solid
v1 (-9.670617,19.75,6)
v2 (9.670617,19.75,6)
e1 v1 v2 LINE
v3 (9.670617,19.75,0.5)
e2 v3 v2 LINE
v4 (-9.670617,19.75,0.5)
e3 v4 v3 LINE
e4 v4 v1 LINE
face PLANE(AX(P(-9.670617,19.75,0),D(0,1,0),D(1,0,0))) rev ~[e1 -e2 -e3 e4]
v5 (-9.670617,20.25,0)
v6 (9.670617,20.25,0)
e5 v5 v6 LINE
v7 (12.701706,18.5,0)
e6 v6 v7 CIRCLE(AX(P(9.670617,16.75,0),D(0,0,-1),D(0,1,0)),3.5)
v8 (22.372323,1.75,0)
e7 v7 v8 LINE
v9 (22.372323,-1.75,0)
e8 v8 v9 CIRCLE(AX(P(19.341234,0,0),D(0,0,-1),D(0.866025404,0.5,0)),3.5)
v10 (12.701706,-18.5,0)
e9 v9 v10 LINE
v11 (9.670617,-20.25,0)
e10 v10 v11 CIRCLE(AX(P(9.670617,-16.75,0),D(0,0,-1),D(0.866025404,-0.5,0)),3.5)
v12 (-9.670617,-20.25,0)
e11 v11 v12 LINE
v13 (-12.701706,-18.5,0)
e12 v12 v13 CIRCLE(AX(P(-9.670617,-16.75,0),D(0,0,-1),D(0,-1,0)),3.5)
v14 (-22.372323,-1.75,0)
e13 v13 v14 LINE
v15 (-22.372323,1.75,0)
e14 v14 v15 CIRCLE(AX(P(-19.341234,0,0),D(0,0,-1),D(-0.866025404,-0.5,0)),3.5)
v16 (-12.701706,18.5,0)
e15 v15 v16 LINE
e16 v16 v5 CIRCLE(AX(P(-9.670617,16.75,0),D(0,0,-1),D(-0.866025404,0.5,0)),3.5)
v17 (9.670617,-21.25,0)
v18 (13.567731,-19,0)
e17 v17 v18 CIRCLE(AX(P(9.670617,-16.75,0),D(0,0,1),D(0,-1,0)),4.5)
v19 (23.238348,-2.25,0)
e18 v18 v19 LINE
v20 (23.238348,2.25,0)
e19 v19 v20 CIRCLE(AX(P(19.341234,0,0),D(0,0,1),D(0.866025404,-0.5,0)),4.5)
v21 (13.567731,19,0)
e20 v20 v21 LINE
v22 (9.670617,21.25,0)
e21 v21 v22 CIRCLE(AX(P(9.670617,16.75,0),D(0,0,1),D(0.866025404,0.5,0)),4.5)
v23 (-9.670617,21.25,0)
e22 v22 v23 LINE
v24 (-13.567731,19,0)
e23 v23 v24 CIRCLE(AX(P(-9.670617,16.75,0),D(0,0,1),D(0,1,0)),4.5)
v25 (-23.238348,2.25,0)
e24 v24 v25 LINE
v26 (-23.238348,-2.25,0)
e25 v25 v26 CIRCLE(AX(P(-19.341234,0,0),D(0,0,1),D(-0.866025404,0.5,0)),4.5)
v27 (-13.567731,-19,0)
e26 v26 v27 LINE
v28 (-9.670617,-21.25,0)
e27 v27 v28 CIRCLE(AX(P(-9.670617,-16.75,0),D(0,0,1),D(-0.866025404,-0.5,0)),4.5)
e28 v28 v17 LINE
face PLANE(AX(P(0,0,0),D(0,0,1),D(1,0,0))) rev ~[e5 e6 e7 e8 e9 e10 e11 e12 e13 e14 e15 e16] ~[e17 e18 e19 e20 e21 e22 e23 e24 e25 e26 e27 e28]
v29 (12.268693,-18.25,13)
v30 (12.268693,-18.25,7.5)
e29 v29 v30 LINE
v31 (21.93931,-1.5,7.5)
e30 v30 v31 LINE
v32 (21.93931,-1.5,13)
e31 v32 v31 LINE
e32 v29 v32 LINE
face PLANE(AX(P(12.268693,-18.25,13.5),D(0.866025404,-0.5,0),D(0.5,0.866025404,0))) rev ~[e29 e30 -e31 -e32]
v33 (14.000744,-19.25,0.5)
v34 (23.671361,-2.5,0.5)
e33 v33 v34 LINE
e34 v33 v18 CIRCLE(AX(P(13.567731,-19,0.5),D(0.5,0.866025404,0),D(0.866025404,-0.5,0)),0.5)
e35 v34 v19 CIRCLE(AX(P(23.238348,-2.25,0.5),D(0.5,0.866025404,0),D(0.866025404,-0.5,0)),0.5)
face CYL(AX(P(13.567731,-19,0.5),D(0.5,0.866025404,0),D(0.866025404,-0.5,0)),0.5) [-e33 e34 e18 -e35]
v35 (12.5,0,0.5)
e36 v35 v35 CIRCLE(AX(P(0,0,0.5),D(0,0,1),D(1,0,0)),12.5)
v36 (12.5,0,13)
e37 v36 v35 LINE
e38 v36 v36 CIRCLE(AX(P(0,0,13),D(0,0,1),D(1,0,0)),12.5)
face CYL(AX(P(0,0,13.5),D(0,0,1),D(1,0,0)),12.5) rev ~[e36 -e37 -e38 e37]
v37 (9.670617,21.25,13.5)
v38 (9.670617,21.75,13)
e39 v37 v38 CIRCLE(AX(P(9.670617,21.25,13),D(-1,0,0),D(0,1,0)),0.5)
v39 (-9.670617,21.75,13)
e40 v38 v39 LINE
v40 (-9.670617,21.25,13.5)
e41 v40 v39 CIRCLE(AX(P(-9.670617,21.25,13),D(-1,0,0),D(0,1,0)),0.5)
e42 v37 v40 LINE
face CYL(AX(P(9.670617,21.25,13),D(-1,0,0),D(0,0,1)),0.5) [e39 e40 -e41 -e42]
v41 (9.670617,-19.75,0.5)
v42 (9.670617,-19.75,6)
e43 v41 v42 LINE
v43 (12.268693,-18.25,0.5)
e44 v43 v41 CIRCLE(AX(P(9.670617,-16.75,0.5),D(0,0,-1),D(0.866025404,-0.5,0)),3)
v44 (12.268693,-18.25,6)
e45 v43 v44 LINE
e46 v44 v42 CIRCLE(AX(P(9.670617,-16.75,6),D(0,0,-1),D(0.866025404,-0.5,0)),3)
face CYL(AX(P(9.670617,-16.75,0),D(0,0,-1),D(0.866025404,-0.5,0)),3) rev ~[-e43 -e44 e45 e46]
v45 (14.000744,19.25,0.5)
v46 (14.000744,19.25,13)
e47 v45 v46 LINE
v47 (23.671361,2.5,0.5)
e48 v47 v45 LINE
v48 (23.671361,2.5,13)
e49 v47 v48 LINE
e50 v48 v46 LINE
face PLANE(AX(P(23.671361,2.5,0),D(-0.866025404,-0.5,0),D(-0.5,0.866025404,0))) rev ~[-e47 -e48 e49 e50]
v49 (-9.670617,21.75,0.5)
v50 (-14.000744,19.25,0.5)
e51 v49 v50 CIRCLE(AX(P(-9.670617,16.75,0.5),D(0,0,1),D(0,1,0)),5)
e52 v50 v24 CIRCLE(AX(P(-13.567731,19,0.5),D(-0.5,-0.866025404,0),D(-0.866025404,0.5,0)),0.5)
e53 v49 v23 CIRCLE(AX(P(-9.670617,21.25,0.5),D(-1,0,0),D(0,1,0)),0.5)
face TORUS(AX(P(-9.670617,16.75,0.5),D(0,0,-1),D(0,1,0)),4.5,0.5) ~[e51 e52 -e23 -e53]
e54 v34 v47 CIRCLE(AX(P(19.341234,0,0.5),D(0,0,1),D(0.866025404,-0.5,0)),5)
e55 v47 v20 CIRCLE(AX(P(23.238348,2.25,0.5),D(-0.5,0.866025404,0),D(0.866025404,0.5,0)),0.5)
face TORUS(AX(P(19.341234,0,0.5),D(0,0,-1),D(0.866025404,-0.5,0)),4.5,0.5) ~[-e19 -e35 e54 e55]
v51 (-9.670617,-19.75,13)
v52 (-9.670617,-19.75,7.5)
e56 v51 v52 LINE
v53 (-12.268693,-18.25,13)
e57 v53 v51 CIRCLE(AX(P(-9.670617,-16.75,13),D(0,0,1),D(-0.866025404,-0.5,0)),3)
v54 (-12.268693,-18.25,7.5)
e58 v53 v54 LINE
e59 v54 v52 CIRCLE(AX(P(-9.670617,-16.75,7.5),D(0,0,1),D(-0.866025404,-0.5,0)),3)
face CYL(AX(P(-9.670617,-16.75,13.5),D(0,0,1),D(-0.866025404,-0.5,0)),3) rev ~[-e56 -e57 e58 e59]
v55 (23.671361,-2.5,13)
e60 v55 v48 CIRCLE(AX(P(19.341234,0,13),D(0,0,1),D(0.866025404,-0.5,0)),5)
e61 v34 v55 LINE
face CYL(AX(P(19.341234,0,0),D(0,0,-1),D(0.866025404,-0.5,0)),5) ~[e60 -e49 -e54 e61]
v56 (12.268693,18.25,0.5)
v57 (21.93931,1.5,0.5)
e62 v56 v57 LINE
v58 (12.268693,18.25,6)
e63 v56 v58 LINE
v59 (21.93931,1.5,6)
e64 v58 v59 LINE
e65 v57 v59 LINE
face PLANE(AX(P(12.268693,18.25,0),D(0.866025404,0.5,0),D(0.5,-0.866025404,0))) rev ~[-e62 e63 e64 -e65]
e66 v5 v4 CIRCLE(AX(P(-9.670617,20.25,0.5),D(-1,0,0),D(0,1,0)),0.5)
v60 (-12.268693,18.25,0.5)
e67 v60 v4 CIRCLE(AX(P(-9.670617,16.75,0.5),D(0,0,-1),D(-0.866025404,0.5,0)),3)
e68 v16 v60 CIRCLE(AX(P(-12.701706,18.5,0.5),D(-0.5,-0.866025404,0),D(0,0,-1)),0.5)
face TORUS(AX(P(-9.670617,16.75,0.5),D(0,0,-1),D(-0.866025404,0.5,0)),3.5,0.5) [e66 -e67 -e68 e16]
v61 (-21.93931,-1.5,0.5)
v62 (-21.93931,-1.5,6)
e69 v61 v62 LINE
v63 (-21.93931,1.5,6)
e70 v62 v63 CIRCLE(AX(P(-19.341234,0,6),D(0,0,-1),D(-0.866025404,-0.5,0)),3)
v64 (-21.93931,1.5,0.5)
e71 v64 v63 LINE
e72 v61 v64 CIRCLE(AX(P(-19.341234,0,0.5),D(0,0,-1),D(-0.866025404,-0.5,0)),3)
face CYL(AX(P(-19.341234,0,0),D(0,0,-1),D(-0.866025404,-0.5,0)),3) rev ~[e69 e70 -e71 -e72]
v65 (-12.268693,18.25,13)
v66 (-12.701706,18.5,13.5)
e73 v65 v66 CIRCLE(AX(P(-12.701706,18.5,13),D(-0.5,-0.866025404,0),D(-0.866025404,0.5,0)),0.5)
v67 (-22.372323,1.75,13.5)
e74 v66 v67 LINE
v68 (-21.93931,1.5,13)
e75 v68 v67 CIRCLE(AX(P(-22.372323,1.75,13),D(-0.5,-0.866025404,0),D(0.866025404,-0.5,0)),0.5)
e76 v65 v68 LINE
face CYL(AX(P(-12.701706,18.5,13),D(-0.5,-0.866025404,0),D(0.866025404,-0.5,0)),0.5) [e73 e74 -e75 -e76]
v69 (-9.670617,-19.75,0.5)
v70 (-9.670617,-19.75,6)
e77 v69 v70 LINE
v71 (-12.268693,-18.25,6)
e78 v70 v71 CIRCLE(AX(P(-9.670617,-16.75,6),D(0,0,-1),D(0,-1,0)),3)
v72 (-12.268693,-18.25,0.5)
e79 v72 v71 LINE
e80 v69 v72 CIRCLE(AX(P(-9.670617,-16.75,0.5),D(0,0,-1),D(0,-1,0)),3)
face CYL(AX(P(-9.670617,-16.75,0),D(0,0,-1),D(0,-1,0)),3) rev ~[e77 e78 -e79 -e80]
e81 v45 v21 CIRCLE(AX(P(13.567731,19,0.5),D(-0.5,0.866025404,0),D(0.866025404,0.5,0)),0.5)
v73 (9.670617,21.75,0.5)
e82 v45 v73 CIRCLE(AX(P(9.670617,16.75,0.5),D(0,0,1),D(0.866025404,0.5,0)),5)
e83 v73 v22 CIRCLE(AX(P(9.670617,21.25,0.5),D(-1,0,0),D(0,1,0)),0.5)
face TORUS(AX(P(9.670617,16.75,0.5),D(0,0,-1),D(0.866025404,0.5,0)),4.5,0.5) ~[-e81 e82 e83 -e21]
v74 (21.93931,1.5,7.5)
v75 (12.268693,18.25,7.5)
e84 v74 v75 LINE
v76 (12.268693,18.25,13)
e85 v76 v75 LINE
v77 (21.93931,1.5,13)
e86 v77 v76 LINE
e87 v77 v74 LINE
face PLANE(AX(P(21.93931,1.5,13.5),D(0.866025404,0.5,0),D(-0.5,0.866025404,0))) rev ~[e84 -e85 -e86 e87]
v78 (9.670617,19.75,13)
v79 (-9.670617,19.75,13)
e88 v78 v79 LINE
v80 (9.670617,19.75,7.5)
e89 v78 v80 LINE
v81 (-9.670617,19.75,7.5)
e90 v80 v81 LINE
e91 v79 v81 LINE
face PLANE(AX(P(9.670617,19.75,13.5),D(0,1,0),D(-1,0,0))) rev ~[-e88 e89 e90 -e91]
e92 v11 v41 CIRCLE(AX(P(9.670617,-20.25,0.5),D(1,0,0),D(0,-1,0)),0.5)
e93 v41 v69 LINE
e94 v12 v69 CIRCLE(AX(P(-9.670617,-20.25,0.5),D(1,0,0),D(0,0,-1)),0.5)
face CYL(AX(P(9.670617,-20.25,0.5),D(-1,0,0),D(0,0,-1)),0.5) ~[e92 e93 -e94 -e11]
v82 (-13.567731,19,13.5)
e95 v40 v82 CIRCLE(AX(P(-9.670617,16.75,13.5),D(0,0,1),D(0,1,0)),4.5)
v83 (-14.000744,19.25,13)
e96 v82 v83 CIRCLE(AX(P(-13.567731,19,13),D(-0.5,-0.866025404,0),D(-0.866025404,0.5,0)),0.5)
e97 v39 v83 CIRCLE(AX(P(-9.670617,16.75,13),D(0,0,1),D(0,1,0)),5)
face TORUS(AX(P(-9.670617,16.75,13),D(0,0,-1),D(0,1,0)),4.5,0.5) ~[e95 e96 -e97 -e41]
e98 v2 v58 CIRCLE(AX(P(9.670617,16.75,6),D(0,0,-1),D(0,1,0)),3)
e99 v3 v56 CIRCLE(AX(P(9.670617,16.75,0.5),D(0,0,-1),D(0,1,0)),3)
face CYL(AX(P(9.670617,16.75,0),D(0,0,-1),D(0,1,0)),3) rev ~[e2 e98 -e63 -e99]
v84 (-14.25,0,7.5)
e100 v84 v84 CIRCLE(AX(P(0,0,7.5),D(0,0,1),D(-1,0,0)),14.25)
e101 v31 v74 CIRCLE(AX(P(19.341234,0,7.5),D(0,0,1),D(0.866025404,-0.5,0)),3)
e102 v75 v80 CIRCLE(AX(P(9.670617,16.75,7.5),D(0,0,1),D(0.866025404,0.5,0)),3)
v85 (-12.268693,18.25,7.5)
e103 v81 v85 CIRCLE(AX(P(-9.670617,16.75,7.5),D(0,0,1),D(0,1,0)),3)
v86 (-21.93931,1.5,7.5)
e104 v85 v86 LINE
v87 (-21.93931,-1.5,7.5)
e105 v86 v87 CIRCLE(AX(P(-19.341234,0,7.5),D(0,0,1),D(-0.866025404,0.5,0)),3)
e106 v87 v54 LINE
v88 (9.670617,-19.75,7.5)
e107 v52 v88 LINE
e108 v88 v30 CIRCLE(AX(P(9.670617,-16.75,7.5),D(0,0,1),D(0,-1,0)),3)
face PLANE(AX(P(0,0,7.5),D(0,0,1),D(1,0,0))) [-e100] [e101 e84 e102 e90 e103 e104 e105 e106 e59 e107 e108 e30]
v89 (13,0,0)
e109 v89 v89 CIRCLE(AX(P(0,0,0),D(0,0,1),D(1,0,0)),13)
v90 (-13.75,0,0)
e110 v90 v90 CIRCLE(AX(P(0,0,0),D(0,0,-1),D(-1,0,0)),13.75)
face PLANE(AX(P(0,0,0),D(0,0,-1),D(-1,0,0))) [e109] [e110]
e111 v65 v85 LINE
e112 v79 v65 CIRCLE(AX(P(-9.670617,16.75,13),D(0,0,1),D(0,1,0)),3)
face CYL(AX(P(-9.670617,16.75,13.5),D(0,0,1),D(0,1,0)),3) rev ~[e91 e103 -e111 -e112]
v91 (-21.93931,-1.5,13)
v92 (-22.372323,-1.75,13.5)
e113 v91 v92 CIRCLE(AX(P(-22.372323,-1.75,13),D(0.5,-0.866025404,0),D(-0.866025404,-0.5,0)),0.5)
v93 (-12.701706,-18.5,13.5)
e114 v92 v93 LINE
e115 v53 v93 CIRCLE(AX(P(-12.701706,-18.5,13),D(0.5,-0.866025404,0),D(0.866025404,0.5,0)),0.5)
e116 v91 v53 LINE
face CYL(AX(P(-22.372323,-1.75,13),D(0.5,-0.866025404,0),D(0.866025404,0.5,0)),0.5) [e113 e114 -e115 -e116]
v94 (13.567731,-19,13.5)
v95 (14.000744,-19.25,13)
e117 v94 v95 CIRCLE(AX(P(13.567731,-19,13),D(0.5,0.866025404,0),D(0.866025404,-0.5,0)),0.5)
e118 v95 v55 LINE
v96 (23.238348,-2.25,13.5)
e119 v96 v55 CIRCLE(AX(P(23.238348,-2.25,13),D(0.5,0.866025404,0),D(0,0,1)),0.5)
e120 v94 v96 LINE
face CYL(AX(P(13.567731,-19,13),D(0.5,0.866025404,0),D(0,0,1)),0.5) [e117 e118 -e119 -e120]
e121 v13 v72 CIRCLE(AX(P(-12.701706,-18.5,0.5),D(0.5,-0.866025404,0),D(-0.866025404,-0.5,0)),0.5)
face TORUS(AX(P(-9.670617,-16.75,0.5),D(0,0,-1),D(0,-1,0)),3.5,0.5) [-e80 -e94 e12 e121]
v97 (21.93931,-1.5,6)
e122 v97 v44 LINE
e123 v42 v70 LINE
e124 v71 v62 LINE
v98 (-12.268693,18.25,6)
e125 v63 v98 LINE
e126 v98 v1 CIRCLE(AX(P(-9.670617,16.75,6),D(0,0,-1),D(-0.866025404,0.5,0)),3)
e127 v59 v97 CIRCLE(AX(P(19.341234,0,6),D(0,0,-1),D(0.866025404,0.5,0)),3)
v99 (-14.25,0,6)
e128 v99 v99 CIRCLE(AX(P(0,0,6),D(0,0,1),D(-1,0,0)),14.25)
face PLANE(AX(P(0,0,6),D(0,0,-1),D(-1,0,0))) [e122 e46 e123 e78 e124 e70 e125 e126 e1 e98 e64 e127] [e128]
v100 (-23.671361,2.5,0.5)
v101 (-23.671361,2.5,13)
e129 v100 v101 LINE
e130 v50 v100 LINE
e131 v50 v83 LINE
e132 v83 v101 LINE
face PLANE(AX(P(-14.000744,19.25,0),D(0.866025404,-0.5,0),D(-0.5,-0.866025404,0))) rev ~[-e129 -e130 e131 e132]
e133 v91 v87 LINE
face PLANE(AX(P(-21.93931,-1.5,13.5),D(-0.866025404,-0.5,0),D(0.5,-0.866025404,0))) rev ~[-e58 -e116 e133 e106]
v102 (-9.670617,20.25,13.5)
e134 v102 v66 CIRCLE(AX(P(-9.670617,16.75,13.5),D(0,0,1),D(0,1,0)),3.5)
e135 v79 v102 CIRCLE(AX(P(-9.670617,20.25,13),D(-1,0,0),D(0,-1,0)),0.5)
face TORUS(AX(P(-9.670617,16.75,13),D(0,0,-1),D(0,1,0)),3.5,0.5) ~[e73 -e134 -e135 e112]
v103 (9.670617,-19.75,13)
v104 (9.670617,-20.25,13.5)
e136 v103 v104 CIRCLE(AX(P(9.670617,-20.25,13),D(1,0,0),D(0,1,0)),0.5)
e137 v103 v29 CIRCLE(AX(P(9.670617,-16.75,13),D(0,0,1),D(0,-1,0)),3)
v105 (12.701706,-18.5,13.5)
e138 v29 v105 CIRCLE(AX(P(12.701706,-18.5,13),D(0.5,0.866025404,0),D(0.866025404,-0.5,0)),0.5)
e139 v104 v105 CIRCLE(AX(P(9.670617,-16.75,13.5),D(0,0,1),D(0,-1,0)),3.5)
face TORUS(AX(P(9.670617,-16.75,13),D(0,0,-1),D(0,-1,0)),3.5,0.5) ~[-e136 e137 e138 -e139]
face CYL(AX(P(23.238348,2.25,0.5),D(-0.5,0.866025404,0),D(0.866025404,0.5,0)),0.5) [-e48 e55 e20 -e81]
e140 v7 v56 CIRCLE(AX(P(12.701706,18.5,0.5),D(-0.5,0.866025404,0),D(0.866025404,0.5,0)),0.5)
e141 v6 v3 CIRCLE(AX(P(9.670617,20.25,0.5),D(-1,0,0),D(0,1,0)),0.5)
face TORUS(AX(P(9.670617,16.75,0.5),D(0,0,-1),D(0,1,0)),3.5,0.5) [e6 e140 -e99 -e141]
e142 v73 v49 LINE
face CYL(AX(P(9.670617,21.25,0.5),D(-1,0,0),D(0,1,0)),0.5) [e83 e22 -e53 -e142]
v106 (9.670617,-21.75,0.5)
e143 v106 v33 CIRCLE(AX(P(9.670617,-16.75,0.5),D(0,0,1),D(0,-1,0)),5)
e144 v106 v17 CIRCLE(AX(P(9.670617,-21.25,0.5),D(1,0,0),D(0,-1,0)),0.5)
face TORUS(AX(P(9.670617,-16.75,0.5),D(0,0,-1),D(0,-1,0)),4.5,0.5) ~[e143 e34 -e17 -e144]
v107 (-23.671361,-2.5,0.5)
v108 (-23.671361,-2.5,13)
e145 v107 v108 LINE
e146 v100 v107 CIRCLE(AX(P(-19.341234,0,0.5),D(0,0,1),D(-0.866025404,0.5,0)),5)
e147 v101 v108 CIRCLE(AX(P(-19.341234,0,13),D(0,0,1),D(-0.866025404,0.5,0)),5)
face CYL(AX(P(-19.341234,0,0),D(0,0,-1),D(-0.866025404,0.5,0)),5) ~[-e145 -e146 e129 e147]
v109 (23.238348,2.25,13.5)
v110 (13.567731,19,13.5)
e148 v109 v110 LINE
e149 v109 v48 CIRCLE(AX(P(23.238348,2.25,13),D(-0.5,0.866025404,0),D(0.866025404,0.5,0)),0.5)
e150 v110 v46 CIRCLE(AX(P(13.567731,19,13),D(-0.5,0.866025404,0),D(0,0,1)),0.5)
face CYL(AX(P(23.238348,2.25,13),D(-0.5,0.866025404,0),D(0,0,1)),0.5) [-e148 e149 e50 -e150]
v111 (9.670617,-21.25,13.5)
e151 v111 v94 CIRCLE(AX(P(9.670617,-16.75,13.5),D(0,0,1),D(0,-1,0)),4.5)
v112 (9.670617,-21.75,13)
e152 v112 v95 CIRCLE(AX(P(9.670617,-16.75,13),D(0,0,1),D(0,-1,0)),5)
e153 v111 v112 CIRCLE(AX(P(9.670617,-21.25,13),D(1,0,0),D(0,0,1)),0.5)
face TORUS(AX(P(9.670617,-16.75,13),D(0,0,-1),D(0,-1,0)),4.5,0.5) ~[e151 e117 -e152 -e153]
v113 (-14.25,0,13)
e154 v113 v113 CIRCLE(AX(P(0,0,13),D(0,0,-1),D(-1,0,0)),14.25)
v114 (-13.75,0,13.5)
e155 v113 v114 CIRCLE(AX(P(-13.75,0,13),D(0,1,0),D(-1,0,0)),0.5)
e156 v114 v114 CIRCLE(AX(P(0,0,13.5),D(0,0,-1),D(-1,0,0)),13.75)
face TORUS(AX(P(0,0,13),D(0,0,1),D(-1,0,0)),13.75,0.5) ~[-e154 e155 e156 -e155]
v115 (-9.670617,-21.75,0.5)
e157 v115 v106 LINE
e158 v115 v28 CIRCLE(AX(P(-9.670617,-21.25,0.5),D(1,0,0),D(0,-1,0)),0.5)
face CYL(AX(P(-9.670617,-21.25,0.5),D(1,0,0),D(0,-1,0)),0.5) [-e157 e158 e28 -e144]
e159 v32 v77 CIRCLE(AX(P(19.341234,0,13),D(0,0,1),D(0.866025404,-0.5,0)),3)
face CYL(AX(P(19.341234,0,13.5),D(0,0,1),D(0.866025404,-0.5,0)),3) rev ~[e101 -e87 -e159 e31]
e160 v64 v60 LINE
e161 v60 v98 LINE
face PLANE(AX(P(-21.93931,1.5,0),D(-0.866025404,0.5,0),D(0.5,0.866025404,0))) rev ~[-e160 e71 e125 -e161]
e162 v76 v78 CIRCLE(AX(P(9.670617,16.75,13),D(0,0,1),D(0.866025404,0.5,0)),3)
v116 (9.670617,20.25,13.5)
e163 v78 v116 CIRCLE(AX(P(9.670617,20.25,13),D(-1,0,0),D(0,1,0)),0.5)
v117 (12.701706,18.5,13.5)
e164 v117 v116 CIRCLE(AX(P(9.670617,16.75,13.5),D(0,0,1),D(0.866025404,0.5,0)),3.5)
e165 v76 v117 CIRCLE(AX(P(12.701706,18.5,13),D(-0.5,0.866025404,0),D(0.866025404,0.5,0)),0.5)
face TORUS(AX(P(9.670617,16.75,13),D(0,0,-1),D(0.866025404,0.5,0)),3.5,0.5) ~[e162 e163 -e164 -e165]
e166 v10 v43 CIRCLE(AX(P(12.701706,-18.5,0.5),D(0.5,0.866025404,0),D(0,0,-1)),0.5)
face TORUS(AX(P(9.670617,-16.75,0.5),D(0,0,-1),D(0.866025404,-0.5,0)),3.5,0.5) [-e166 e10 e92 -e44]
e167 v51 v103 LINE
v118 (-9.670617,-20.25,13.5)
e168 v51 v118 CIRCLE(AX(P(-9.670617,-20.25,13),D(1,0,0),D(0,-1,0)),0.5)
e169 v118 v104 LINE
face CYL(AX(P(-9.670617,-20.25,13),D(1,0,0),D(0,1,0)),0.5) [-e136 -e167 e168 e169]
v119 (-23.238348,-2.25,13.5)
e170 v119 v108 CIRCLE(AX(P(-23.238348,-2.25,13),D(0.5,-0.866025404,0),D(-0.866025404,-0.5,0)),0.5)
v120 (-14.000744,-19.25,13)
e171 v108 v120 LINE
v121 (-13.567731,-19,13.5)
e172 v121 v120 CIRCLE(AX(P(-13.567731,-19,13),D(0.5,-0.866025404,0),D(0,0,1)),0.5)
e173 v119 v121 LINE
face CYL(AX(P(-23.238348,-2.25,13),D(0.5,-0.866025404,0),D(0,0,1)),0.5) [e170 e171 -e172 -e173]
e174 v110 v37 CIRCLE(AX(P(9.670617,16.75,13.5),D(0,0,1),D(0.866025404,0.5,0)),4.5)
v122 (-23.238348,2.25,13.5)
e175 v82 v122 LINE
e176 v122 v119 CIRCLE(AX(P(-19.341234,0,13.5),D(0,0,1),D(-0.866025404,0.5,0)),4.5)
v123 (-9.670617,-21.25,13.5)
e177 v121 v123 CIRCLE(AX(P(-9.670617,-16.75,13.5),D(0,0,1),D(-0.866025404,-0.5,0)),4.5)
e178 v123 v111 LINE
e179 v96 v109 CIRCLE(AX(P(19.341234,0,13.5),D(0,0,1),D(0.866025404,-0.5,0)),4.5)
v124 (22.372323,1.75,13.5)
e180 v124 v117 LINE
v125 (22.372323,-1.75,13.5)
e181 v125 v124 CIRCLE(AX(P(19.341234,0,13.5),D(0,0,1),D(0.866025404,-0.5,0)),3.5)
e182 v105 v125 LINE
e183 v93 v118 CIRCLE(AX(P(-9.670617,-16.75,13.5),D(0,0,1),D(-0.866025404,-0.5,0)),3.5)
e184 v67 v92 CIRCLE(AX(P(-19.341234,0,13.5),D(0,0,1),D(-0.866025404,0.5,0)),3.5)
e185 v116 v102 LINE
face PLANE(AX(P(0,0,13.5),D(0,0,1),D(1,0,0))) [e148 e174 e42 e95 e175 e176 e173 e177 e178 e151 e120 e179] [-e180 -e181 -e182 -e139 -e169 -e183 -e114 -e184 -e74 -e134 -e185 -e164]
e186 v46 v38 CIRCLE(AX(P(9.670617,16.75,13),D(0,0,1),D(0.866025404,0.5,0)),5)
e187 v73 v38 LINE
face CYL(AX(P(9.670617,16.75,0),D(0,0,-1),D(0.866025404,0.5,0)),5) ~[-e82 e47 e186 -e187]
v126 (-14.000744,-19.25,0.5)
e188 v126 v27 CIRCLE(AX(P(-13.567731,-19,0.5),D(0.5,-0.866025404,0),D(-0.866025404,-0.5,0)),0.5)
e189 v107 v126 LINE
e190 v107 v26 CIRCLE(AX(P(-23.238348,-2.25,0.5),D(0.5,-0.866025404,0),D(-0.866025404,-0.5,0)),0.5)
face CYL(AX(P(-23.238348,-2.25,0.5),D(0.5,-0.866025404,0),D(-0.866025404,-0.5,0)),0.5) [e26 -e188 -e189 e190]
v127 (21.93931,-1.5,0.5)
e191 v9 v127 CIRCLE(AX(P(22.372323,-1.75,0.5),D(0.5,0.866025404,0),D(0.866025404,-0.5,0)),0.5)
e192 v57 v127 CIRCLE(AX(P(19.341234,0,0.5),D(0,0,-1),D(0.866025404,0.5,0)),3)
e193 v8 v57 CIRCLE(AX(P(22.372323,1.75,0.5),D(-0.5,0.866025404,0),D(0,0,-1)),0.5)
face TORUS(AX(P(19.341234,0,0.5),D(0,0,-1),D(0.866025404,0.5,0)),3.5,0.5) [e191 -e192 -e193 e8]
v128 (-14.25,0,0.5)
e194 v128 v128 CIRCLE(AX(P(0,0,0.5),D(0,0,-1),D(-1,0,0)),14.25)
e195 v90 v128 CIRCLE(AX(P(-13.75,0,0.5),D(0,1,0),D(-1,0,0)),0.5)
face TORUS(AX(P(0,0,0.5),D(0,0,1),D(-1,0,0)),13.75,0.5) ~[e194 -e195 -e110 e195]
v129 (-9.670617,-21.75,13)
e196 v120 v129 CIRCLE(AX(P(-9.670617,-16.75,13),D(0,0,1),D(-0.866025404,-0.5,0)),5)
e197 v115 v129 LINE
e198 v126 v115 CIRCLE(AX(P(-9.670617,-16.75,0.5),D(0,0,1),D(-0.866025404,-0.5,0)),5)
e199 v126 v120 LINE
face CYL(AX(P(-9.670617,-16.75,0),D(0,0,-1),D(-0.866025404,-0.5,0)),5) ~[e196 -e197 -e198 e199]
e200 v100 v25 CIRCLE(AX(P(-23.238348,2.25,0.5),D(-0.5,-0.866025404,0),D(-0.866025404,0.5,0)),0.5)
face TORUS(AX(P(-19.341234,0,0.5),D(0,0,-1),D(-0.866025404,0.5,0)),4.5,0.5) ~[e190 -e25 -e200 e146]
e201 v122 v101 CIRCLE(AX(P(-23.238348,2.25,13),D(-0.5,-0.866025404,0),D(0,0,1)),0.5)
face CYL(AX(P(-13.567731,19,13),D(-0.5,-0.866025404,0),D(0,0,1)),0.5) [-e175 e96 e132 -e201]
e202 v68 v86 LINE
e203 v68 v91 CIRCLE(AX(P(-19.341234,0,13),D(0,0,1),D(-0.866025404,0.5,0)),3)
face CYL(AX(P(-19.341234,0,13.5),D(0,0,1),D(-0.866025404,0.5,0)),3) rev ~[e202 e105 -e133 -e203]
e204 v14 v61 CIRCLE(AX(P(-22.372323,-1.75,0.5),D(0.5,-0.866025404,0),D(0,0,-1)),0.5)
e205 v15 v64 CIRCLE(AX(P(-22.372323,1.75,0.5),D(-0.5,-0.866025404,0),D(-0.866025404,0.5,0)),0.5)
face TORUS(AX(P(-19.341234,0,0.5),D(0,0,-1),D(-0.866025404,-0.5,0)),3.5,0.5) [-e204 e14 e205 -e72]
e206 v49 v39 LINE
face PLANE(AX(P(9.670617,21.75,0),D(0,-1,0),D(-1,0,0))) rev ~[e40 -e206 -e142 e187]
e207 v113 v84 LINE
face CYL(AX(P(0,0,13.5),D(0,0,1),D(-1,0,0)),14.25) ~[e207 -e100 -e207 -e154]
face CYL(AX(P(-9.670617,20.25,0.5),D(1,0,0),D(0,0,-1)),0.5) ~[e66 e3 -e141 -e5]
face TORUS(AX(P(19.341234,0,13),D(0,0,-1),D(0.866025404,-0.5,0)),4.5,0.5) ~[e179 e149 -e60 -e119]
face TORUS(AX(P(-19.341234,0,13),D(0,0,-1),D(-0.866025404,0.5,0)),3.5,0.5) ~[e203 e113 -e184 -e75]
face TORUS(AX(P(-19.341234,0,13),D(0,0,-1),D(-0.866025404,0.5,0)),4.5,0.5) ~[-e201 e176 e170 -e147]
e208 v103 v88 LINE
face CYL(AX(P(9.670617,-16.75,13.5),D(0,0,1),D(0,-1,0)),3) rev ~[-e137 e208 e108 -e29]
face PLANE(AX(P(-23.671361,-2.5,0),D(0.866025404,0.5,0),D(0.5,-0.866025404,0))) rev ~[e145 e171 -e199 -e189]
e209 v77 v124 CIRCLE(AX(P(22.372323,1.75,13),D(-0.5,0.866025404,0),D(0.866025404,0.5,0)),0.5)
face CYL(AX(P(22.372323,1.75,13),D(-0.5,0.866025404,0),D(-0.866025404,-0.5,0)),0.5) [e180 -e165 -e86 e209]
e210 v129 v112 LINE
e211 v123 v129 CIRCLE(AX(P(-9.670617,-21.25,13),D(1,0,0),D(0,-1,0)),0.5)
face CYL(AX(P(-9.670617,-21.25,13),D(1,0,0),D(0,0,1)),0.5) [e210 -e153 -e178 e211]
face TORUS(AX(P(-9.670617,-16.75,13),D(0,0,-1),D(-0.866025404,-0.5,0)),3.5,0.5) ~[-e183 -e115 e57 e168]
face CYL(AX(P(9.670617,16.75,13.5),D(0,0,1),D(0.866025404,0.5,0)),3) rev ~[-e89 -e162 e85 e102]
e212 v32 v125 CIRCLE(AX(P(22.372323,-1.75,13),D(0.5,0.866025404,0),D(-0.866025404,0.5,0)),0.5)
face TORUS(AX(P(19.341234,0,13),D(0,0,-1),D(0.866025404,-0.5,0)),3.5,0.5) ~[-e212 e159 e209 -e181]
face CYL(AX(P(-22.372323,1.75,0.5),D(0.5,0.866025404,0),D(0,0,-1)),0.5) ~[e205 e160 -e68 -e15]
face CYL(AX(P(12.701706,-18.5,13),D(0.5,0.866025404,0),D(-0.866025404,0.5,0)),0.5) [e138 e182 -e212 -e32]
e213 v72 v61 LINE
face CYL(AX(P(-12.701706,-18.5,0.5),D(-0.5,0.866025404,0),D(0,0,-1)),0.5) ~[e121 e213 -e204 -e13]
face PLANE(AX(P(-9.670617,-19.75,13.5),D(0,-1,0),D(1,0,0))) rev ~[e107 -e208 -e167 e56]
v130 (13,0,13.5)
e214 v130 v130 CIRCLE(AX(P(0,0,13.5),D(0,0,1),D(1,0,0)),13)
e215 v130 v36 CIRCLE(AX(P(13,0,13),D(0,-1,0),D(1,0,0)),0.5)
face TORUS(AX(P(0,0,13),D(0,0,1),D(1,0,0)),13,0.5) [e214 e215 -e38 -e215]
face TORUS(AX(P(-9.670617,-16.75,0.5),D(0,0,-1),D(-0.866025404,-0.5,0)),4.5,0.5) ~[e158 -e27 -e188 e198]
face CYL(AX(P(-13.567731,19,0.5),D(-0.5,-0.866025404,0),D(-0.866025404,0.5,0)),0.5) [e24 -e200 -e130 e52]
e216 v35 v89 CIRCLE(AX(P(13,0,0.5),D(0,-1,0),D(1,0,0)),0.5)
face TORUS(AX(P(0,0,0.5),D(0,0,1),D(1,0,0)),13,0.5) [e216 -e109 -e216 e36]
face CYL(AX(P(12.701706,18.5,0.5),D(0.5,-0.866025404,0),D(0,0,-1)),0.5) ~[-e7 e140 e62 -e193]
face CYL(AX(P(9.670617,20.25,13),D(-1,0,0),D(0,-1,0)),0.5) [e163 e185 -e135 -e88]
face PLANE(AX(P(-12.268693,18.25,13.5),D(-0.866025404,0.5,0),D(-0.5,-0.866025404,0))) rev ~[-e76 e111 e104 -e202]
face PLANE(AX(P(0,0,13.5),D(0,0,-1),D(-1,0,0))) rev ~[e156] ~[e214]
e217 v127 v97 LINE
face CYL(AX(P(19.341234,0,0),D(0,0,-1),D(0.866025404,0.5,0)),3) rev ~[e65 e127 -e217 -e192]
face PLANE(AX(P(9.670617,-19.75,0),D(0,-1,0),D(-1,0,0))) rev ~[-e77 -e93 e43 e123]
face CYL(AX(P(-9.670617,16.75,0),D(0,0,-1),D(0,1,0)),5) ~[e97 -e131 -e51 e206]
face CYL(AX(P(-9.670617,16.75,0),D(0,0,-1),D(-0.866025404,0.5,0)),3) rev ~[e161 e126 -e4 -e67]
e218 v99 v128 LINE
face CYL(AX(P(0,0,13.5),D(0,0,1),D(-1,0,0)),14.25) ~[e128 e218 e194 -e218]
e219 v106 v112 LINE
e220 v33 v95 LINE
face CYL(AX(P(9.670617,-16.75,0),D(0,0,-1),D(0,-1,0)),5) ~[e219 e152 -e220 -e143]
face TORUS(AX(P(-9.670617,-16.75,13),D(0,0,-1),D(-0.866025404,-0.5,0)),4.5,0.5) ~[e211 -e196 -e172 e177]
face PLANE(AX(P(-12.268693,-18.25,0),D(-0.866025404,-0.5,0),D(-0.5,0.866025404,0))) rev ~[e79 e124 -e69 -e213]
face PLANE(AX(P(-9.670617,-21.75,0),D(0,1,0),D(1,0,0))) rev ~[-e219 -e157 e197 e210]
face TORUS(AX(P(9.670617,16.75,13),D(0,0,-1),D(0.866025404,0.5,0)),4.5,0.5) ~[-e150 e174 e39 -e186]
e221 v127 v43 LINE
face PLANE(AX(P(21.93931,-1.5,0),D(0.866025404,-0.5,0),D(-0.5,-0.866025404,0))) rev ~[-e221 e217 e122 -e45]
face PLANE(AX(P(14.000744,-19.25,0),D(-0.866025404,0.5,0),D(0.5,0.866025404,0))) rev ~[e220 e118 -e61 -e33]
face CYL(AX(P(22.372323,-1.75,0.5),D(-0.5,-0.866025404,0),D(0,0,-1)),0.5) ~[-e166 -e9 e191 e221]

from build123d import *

# Parameters (mm, degrees)
EXTRUDE_1_DEPTH     = 13.5
CUT_EXTRUDE_1_DEPTH = 6
CUT_EXTRUDE_2_DEPTH = 6
EXTRUDE_START       = -7.5
SKETCH_4_R          = 14.25
EXTRUDE_2_DEPTH     = 13.5
CUT_EXTRUDE_3_REACH = 15.5
SKETCH_5_R          = 12.5
FILLET_1_R          = 0.5


with BuildPart() as part:
    # 草圖1 → 填料-伸長1 (new body)
    with BuildSketch(Plane.XY):
        with BuildLine():
            Line((23.671361037, 2.5), (14.000744028, 19.25))
            ThreePointArc((14.000744028, 19.25), (12.170617009, 21.080127019), (9.670617009, 21.75))
            Line((9.670617009, 21.75), (-9.670617009, 21.75))
            ThreePointArc((-9.670617009, 21.75), (-12.170617009, 21.080127019), (-14.000744028, 19.25))
            Line((-14.000744028, 19.25), (-23.671361037, 2.5))
            ThreePointArc((-23.671361037, 2.5), (-24.341234018, 0), (-23.671361037, -2.5))
            Line((-23.671361037, -2.5), (-14.000744028, -19.25))
            ThreePointArc((-14.000744028, -19.25), (-12.170617009, -21.080127019), (-9.670617009, -21.75))
            Line((-9.670617009, -21.75), (9.670617009, -21.75))
            ThreePointArc((9.670617009, -21.75), (12.170617009, -21.080127019), (14.000744028, -19.25))
            Line((14.000744028, -19.25), (23.671361037, -2.5))
            ThreePointArc((23.671361037, -2.5), (24.341234018, 0), (23.671361037, 2.5))
        make_face()
    extrude(amount=EXTRUDE_1_DEPTH)

    # 草圖2 → 除料-伸長1 (cut)
    with BuildSketch(Plane.XY.offset(13.5)):
        with BuildLine():
            Line((9.670617009, 19.75), (-9.670617009, 19.75))
            ThreePointArc((-9.670617009, 19.75), (-11.170617009, 19.348076211), (-12.26869322, 18.25))
            Line((-12.26869322, 18.25), (-21.939310229, 1.5))
            ThreePointArc((-21.939310229, 1.5), (-22.341234018, 0), (-21.939310229, -1.5))
            Line((-21.939310229, -1.5), (-12.26869322, -18.25))
            ThreePointArc((-12.26869322, -18.25), (-11.170617009, -19.348076211), (-9.670617009, -19.75))
            Line((-9.670617009, -19.75), (9.670617009, -19.75))
            ThreePointArc((9.670617009, -19.75), (11.170617009, -19.348076211), (12.26869322, -18.25))
            Line((12.26869322, -18.25), (21.939310229, -1.5))
            ThreePointArc((21.939310229, -1.5), (22.341234018, 0), (21.939310229, 1.5))
            Line((21.939310229, 1.5), (12.26869322, 18.25))
            ThreePointArc((12.26869322, 18.25), (11.170617009, 19.348076211), (9.670617009, 19.75))
        make_face()
    extrude(amount=-CUT_EXTRUDE_1_DEPTH, mode=Mode.SUBTRACT)

    # 草圖3 → 除料-伸長2 (cut)
    with BuildSketch(Plane(origin=(0, 0, 0), x_dir=(-1, 0, 0), z_dir=(0, 0, -1))):
        with BuildLine():
            Line((-12.26869322, 18.25), (-21.939310229, 1.5))
            ThreePointArc((-21.939310229, 1.5), (-22.341234018, 0), (-21.939310229, -1.5))
            Line((-21.939310229, -1.5), (-12.26869322, -18.25))
            ThreePointArc((-12.26869322, -18.25), (-11.170617009, -19.348076211), (-9.670617009, -19.75))
            Line((-9.670617009, -19.75), (9.670617009, -19.75))
            ThreePointArc((9.670617009, -19.75), (11.170617009, -19.348076211), (12.26869322, -18.25))
            Line((12.26869322, -18.25), (21.939310229, -1.5))
            ThreePointArc((21.939310229, -1.5), (22.341234018, 0), (21.939310229, 1.5))
            Line((21.939310229, 1.5), (12.26869322, 18.25))
            ThreePointArc((12.26869322, 18.25), (11.170617009, 19.348076211), (9.670617009, 19.75))
            Line((9.670617009, 19.75), (-9.670617009, 19.75))
            ThreePointArc((-9.670617009, 19.75), (-11.170617009, 19.348076211), (-12.26869322, 18.25))
        make_face()
    extrude(amount=-CUT_EXTRUDE_2_DEPTH, mode=Mode.SUBTRACT)

    # 草圖4 → 填料-伸長2 (add)
    with BuildSketch(Plane(origin=(0, 0, 6), x_dir=(-1, 0, 0), z_dir=(0, 0, -1)).offset(EXTRUDE_START)):
        Circle(SKETCH_4_R)
    extrude(amount=EXTRUDE_2_DEPTH)

    # 草圖5 → 除料-伸長3 (cut, up to next)
    with BuildSketch(Plane.XY.offset(13.5), mode=Mode.PRIVATE) as cut_extrude_3_sk1:
        Circle(SKETCH_5_R)
    cut_extrude_3_tool1 = extrude(cut_extrude_3_sk1.sketch, amount=-CUT_EXTRUDE_3_REACH, mode=Mode.PRIVATE) & part.part
    add(cut_extrude_3_tool1.solids().sort_by_distance((0, 0, 13.5))[0], mode=Mode.SUBTRACT)

    # 圓角1
    fillet_1_edges = [part.edges().sort_by_distance(p)[0] for p in [
        (14.25, 0, 13.5),
        (14.25, 0, 0),
        (-12.5, 0, 13.5),
        (-12.5, 0, 0),
        (18.836052532, 10.875, 0),
        (24.341234018, 0, 0),
        (-12.170617009, 21.080127019, 13.5),
        (18.836052532, -10.875, 0),
        (12.170617009, -21.080127019, 0),
        (0, -21.75, 0),
        (-12.170617009, -21.080127019, 0),
        (-18.836052532, -10.875, 0),
        (-24.341234018, 0, 0),
        (-18.836052532, 10.875, 0),
        (-12.170617009, 21.080127019, 0),
        (0, 21.75, 0),
        (12.170617009, 21.080127019, 0),
        (-18.836052532, 10.875, 13.5),
        (-24.341234018, 0, 13.5),
        (-18.836052532, -10.875, 13.5),
        (-12.170617009, -21.080127019, 13.5),
        (0, -21.75, 13.5),
        (12.170617009, -21.080127019, 13.5),
        (18.836052532, -10.875, 13.5),
        (24.341234018, 0, 13.5),
        (11.170617009, 19.348076211, 13.5),
        (0, 19.75, 13.5),
        (-11.170617009, 19.348076211, 13.5),
        (-17.104001725, 9.875, 13.5),
        (-22.341234018, 0, 13.5),
        (-17.104001725, -9.875, 13.5),
        (-11.170617009, -19.348076211, 13.5),
        (0, -19.75, 13.5),
        (11.170617009, -19.348076211, 13.5),
        (17.104001725, -9.875, 13.5),
        (22.341234018, 0, 13.5),
        (18.836052532, 10.875, 13.5),
        (17.104001725, 9.875, 13.5),
        (12.170617009, 21.080127019, 13.5),
        (11.170617009, 19.348076211, 0),
        (17.104001725, 9.875, 0),
        (22.341234018, 0, 0),
        (17.104001725, -9.875, 0),
        (11.170617009, -19.348076211, 0),
        (0, -19.75, 0),
        (-11.170617009, -19.348076211, 0),
        (-17.104001725, -9.875, 0),
        (-22.341234018, 0, 0),
        (-17.104001725, 9.875, 0),
        (-11.170617009, 19.348076211, 0),
        (0, 19.75, 0),
        (0, 21.75, 13.5),
    ]]
    fillet(fillet_1_edges, radius=FILLET_1_R)


solid = part.part
